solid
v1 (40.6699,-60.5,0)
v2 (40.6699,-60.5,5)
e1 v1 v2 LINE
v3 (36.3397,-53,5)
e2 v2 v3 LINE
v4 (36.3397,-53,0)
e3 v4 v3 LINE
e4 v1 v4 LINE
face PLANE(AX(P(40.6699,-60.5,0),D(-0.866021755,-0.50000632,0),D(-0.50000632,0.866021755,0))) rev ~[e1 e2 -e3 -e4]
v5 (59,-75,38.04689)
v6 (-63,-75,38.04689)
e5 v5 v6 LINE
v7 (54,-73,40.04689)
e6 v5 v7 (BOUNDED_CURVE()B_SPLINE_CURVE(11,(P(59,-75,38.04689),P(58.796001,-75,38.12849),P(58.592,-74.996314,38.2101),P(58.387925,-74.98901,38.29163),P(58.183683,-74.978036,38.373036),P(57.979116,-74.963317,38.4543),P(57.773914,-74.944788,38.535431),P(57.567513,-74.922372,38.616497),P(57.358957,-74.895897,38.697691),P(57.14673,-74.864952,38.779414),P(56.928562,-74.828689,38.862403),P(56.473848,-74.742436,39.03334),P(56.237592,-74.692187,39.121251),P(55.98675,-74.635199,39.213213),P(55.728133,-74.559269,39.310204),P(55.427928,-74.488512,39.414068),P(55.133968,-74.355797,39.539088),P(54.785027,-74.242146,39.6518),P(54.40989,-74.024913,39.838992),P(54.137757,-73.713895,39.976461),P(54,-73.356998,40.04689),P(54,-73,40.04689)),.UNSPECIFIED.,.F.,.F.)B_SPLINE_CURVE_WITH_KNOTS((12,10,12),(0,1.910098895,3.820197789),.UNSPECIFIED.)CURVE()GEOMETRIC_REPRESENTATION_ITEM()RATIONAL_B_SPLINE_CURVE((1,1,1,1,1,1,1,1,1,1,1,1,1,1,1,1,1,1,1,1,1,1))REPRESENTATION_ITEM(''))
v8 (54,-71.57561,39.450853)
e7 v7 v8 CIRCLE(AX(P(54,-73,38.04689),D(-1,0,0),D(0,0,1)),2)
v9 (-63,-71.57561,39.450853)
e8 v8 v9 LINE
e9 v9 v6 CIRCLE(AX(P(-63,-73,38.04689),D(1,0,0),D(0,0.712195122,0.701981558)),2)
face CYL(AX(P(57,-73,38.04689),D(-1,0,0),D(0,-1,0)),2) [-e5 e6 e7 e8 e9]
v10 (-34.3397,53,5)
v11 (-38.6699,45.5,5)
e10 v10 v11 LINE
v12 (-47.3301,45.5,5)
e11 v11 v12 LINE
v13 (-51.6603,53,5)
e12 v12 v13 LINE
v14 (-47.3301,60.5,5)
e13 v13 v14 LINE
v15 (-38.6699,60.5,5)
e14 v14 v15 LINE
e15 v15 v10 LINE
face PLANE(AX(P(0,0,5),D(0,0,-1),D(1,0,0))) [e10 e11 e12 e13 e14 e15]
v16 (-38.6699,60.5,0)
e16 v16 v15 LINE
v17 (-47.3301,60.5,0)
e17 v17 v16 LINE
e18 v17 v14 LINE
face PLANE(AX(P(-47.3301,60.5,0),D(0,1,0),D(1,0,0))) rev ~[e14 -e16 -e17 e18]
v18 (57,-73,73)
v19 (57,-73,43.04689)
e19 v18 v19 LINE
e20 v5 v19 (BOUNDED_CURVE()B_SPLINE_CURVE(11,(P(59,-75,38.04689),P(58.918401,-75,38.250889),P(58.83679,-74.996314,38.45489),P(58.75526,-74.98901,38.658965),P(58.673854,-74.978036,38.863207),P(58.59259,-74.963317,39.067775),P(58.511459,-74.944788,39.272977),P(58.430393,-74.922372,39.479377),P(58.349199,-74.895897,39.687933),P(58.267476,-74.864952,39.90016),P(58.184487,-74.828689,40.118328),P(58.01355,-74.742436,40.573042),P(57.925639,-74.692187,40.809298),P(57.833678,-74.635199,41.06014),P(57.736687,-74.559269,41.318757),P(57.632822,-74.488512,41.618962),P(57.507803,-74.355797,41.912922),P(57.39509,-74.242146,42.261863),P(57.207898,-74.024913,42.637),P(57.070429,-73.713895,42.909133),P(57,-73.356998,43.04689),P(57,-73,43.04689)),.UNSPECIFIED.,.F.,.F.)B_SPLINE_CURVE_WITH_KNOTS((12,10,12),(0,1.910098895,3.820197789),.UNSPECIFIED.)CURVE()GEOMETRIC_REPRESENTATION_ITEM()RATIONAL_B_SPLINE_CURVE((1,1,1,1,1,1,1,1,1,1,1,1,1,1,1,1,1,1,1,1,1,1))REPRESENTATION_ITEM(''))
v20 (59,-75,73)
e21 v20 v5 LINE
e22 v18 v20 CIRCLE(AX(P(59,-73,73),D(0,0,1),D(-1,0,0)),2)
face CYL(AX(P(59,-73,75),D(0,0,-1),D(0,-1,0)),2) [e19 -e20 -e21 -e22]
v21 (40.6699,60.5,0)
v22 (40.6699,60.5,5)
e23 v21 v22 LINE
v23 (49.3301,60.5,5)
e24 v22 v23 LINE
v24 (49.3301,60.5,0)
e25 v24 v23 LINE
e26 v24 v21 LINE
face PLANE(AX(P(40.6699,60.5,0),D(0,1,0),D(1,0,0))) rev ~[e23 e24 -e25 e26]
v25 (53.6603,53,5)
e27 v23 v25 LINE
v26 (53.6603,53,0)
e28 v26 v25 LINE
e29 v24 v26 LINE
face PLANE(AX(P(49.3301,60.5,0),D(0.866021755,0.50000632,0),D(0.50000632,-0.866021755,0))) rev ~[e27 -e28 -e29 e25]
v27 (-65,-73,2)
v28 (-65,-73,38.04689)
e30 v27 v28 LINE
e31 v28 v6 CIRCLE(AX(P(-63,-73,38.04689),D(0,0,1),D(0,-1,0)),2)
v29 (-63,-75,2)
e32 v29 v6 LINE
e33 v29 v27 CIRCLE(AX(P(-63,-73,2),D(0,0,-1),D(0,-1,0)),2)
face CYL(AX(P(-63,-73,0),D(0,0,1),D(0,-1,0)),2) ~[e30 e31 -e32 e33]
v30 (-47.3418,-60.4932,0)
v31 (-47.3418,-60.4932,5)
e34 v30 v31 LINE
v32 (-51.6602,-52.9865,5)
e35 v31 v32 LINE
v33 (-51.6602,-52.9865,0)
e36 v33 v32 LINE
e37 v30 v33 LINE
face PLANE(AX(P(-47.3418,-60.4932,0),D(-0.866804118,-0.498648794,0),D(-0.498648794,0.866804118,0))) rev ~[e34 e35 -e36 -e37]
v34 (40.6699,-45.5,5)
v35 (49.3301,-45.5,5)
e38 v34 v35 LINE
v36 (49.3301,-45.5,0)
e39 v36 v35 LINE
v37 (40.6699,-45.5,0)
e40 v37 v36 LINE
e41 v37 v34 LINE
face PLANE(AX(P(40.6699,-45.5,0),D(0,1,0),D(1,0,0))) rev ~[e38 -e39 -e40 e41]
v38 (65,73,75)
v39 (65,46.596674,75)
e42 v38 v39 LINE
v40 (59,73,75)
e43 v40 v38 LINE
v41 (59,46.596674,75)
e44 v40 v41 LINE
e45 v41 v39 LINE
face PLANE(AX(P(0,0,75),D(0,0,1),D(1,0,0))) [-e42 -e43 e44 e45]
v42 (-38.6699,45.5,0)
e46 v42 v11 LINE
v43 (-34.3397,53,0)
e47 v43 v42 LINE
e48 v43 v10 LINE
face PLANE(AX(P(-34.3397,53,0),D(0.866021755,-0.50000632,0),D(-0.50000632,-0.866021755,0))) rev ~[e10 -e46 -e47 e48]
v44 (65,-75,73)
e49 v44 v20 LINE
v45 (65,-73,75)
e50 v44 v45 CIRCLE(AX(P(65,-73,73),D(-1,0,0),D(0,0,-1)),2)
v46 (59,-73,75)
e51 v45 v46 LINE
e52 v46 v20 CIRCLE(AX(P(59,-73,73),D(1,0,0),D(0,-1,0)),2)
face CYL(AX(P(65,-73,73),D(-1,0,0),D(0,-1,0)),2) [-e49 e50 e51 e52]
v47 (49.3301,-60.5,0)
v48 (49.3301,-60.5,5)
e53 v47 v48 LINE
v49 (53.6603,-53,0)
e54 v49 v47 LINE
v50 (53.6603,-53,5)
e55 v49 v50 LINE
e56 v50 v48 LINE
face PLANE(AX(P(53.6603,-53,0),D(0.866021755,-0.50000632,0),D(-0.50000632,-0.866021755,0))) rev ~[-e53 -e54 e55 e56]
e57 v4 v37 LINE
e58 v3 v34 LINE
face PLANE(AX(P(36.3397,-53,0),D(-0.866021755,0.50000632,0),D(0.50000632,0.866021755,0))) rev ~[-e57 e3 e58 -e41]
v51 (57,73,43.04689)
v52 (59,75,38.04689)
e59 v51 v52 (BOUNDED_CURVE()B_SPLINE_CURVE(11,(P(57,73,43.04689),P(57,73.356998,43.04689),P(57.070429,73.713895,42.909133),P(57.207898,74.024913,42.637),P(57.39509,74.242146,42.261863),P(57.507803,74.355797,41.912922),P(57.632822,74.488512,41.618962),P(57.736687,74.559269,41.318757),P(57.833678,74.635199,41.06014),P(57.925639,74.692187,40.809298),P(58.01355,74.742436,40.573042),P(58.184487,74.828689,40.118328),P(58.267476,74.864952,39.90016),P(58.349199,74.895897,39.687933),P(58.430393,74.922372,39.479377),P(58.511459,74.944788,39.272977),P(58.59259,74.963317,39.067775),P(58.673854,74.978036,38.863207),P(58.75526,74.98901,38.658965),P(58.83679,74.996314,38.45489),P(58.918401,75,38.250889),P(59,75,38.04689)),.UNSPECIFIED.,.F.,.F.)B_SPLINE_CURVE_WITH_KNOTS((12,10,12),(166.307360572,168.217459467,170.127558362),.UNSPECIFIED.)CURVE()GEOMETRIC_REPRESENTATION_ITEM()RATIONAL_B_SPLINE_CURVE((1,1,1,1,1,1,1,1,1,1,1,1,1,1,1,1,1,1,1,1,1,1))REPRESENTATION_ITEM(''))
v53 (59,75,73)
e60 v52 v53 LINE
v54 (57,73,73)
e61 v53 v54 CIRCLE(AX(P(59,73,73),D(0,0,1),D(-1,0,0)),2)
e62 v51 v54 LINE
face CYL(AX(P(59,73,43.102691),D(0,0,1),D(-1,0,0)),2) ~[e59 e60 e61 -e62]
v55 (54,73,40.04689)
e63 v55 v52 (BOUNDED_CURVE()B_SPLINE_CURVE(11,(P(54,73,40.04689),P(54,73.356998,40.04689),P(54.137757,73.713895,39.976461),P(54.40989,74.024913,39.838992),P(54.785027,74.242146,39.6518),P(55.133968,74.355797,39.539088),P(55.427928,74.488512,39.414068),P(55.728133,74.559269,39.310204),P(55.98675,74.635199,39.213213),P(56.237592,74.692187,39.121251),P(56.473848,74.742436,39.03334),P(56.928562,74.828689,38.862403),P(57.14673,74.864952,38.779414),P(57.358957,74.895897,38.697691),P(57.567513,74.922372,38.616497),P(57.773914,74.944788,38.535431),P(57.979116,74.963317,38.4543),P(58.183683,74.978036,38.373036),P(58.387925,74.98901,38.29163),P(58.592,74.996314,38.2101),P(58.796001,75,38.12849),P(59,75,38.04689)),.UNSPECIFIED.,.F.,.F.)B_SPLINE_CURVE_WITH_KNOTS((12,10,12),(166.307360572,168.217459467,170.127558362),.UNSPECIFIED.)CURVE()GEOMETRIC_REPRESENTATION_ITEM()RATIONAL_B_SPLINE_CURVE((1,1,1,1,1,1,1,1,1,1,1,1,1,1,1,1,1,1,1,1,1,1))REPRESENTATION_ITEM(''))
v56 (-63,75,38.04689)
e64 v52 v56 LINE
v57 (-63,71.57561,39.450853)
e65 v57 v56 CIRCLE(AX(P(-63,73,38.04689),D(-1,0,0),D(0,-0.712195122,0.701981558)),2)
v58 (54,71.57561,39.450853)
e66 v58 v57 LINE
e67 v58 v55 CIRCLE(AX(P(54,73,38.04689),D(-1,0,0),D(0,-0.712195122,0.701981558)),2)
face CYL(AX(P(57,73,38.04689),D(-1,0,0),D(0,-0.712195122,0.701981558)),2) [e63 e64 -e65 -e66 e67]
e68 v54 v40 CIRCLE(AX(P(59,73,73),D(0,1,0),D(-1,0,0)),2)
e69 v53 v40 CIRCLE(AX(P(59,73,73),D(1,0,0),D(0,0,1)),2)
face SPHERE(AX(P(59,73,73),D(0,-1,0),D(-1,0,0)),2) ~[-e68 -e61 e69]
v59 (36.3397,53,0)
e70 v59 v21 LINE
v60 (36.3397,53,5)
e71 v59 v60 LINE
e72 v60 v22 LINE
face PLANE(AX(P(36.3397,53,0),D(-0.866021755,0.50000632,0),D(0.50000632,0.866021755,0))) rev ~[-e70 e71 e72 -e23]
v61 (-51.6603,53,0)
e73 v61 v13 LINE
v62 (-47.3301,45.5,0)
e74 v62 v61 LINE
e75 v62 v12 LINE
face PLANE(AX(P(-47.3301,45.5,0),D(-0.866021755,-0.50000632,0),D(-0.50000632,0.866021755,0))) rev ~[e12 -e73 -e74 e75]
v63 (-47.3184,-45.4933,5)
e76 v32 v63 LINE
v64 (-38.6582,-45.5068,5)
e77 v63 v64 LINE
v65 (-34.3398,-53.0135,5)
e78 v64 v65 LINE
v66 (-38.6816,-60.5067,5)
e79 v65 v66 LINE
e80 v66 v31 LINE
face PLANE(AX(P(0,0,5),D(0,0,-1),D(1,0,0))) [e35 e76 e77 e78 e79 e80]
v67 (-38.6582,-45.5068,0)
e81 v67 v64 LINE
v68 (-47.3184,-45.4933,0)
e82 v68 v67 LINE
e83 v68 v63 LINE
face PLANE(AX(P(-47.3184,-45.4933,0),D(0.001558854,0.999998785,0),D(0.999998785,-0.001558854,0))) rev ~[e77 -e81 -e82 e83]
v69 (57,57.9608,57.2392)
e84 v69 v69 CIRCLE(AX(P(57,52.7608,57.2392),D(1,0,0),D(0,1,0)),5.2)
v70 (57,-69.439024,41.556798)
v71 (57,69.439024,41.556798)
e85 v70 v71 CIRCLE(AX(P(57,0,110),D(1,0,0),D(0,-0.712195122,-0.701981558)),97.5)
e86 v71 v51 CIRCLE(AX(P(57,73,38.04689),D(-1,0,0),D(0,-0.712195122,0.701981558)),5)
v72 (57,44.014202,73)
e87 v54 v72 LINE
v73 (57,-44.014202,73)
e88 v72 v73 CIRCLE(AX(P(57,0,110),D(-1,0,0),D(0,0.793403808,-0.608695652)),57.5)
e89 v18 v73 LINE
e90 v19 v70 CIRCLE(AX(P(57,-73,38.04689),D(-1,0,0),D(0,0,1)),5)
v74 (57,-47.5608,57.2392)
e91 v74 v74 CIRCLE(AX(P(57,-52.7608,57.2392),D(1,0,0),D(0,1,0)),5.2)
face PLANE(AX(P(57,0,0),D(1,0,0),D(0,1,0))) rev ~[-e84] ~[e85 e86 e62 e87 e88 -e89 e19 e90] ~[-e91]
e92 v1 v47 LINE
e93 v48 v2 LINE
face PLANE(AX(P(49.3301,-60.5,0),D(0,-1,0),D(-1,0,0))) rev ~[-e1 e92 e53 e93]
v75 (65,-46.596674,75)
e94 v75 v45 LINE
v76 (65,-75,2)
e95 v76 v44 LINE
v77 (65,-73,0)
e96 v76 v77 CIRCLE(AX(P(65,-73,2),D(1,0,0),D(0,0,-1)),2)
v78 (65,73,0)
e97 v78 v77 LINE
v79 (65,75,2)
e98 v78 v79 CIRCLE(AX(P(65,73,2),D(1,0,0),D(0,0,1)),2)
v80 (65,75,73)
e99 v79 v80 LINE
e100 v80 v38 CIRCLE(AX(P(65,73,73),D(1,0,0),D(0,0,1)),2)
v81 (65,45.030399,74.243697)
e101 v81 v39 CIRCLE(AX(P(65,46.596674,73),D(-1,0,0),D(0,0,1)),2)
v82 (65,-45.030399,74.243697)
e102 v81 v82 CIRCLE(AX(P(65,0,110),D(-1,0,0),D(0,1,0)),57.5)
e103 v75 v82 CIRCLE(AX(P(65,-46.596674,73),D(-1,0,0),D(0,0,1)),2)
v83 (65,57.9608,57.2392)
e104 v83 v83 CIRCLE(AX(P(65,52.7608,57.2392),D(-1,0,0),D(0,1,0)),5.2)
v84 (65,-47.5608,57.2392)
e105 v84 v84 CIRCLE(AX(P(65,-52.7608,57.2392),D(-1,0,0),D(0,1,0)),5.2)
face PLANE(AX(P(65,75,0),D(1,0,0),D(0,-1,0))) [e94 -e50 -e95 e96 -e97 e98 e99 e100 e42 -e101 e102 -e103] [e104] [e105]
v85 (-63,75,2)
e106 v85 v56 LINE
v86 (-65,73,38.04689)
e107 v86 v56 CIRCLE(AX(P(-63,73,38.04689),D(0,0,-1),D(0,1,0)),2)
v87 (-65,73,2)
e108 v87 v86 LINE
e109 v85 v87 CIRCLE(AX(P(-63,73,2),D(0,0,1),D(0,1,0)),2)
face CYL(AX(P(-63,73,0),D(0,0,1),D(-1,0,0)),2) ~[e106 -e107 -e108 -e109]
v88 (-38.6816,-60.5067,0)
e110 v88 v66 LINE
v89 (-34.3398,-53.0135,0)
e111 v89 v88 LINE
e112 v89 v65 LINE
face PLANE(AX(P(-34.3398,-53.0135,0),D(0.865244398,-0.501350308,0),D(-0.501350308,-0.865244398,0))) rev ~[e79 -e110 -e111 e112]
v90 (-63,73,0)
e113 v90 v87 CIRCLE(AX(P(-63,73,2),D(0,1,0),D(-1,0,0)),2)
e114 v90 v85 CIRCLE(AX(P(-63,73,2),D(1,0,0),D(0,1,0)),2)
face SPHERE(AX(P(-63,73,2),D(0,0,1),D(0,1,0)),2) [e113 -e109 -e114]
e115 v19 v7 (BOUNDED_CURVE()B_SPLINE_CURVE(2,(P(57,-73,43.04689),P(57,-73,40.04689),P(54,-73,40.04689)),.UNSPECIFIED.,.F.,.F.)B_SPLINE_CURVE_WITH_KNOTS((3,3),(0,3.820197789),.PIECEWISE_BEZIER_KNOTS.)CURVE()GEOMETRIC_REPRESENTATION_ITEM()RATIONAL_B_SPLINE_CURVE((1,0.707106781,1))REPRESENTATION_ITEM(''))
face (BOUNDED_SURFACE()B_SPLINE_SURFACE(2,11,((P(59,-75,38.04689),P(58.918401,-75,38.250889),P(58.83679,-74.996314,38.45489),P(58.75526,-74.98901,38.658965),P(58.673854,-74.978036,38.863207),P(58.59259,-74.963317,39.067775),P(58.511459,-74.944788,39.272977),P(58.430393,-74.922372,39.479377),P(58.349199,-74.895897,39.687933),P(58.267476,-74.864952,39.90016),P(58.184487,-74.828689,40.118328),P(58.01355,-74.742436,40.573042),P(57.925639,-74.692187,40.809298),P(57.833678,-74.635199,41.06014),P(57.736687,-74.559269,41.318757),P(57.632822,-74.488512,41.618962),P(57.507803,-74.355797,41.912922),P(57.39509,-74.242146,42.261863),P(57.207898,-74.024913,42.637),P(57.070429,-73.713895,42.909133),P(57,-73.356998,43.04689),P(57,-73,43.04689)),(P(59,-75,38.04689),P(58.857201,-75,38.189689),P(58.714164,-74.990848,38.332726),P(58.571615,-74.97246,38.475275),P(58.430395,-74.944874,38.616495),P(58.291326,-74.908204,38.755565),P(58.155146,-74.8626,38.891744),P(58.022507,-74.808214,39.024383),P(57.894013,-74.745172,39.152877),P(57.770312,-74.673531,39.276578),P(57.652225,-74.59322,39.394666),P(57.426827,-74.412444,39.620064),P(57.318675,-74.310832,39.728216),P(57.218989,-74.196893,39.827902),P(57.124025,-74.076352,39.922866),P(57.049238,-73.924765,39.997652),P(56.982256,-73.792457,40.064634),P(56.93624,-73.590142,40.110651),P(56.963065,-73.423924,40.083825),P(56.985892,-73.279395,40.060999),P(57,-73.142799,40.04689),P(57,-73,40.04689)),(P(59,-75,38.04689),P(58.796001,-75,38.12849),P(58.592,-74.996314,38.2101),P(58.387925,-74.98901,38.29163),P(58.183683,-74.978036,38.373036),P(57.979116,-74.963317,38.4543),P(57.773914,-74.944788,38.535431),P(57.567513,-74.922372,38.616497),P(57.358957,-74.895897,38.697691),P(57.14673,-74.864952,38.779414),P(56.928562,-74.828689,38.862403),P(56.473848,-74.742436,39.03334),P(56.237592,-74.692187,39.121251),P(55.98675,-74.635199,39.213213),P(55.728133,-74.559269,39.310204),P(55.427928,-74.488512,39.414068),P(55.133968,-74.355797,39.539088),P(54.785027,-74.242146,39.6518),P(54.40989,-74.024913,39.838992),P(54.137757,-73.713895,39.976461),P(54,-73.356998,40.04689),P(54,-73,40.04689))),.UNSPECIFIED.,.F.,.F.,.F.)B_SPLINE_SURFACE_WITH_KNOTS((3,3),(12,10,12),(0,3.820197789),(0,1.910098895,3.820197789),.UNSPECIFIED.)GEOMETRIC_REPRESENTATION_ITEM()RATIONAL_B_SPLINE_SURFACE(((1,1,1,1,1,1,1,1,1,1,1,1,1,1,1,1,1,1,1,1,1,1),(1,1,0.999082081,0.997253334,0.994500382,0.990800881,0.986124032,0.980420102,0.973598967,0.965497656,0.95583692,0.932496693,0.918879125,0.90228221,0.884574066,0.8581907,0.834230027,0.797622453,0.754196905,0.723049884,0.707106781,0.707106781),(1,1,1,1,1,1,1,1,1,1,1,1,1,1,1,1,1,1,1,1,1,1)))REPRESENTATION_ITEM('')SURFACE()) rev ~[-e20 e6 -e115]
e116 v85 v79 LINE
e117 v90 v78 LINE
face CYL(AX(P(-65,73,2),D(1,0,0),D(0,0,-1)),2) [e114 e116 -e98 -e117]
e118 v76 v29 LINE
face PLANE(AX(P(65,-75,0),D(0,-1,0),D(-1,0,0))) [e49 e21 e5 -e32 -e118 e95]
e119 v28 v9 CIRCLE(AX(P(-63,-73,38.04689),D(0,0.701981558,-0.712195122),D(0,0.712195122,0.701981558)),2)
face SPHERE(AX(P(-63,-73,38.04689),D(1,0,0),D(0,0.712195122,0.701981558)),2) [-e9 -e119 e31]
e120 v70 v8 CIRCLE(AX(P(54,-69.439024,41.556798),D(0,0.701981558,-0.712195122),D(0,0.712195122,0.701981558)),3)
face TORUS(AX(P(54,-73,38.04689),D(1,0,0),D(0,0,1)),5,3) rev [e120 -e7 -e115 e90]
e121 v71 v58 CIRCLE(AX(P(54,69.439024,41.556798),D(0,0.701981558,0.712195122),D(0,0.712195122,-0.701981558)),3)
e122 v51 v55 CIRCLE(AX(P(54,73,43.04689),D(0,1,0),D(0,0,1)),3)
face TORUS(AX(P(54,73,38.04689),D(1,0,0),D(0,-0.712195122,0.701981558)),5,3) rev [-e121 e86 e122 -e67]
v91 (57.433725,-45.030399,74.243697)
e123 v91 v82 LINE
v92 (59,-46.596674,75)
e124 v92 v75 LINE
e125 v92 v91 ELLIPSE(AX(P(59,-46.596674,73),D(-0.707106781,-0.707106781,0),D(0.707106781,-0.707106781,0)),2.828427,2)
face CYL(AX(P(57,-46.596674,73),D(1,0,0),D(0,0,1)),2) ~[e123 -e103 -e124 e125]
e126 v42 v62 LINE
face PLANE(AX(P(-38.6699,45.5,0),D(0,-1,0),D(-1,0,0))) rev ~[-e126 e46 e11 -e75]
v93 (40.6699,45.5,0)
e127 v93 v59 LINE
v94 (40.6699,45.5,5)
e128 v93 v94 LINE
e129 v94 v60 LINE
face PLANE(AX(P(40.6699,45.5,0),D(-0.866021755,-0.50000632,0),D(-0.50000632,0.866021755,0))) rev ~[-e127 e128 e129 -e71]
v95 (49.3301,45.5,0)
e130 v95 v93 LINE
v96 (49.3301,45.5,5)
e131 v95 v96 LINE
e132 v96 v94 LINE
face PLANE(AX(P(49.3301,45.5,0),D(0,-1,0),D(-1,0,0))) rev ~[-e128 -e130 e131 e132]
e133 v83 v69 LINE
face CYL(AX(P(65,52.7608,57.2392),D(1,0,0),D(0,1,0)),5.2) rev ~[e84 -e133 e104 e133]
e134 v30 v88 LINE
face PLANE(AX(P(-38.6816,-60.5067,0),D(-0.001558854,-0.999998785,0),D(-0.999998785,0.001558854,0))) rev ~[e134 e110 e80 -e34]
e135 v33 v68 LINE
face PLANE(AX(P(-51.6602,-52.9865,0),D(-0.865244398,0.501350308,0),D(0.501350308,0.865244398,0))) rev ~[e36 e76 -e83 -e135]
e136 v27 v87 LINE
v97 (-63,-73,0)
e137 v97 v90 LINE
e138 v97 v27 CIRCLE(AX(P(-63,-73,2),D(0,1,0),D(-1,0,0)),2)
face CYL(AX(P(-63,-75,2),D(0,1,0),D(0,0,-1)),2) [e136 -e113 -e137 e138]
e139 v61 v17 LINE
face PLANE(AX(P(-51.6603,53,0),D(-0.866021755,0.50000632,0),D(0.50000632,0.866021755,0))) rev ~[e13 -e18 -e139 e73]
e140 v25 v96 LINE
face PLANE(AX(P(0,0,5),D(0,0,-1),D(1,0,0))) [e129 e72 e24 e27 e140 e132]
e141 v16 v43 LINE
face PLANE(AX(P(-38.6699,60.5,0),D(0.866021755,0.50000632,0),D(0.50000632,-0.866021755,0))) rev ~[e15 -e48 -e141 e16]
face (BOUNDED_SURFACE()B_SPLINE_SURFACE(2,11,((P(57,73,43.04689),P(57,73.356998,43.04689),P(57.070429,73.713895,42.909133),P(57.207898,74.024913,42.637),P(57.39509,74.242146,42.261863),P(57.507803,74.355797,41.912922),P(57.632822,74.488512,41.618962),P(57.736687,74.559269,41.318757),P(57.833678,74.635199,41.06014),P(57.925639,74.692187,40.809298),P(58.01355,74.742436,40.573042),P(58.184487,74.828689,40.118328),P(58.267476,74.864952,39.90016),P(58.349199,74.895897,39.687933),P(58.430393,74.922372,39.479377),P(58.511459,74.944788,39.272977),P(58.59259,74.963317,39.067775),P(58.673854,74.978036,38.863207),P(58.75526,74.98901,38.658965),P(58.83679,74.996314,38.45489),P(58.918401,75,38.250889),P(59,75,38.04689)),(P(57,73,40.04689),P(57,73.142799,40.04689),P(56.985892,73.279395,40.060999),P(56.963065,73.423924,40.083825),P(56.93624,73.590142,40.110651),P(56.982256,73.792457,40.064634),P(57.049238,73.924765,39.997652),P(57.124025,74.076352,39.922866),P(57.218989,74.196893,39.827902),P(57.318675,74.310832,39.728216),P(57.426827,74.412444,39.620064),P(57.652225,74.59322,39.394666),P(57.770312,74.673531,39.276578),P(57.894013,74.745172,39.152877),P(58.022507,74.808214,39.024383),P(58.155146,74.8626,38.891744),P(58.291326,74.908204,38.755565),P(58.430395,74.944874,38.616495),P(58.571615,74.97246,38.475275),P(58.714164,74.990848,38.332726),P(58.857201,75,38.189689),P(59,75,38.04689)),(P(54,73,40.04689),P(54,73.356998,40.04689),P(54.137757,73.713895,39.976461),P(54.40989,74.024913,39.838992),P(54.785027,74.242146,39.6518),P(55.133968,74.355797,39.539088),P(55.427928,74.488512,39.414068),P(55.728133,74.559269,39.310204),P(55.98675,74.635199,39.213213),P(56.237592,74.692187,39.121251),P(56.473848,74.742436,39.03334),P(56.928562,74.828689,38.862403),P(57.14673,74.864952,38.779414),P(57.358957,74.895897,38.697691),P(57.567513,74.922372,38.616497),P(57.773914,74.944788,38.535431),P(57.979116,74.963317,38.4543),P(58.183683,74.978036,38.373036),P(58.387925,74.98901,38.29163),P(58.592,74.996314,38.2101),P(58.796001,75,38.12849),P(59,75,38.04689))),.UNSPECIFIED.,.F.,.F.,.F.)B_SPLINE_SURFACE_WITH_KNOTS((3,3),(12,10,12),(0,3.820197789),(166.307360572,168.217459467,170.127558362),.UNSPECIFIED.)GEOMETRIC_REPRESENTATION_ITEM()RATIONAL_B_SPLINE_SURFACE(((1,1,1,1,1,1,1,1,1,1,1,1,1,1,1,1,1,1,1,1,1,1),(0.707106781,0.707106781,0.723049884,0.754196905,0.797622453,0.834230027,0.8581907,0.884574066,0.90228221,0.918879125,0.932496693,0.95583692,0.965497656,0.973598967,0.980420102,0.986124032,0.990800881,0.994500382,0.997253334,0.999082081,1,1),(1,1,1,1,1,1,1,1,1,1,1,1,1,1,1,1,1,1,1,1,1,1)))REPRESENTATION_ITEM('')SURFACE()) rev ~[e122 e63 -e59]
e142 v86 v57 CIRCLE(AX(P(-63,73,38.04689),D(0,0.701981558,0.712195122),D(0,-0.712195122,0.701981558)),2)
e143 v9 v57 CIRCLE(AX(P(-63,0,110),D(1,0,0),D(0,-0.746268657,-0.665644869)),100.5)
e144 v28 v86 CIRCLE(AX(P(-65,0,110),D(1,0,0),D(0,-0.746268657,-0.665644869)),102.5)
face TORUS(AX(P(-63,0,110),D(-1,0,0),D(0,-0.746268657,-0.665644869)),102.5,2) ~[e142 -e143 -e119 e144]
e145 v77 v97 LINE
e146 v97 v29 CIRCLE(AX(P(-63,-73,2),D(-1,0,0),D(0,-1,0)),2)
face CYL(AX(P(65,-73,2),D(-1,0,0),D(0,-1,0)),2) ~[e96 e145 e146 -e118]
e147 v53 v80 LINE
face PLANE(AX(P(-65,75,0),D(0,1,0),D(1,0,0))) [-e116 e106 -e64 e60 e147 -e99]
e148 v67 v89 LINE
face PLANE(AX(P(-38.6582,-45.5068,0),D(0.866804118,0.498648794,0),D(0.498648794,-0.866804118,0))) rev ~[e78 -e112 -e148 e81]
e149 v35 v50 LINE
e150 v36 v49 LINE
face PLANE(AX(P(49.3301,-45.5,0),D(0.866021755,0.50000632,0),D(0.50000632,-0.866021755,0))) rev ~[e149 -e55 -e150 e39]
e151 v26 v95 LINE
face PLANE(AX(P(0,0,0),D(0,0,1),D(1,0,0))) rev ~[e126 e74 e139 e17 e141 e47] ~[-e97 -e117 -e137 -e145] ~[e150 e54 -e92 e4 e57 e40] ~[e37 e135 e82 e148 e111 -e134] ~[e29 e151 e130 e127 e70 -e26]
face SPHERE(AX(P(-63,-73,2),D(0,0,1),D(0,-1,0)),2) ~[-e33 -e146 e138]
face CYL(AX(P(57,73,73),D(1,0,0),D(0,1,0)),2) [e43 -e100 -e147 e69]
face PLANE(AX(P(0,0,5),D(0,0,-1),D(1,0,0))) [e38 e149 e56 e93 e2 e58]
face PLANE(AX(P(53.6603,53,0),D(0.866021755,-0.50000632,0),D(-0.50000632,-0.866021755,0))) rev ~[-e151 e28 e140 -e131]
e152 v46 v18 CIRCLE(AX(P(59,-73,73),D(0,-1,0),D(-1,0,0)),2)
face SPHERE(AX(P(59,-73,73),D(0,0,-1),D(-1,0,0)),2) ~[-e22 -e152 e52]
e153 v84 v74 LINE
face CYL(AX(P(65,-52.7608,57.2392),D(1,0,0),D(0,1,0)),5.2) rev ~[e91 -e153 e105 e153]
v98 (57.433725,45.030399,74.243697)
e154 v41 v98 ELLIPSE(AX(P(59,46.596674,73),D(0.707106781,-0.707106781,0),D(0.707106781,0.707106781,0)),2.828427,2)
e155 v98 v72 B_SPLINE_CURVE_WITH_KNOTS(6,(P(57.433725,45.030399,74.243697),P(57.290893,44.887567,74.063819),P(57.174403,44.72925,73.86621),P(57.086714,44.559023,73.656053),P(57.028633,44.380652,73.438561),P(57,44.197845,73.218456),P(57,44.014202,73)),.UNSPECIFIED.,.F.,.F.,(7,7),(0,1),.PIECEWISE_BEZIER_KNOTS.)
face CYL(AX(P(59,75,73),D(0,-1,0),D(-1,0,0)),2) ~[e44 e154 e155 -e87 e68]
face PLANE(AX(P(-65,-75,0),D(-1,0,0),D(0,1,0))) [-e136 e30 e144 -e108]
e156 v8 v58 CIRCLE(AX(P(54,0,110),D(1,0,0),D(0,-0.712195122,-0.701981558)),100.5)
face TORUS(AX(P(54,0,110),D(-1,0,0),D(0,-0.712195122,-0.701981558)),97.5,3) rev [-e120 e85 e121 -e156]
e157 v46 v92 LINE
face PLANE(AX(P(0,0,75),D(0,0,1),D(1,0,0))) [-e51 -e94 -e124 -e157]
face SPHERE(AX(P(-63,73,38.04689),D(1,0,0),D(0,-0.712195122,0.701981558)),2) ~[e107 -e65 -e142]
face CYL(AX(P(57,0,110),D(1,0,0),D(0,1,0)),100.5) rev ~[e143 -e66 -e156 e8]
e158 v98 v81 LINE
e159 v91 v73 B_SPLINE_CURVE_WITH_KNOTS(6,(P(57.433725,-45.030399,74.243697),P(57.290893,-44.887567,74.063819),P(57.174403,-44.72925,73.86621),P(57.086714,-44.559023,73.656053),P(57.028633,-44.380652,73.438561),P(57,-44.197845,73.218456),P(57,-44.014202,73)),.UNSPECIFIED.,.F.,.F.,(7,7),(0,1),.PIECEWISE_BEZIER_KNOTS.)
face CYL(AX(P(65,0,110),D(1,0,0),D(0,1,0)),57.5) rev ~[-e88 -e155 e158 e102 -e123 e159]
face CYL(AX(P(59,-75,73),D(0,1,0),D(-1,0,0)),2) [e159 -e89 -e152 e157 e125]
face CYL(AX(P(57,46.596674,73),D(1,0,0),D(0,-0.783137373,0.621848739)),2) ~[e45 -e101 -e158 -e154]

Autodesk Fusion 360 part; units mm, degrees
sketch "Sketch1" plane through (0, 0, 0) normal (0, 0, 1) x (1, 0, 0)
  line L0 (65, -75) -> (-65, -75)
  line L1 (-65, -75) -> (-65, 75)
  line L2 (-65, 75) -> (65, 75)
  line L3 (65, 75) -> (65, -75)
  line L4 (65, -75) -> (-65, 75) construction
  line L5 (-65, -75) -> (65, 75) construction
  dimension "d1" = 130
  dimension "d2" = 150
extrude "Extrude1" add sketch "Sketch1" along normal blind 75
sketch "Sketch2" plane through (65, 0, 0) normal (1, 0, 0) x (0, 1, 0)
  line L0 (-75, 0) -> (75, 0)
  line L1 (75, 0) -> (75, 75)
  line L2 (75, 75) -> (-75, 75)
  line L3 (-75, 75) -> (-75, 0)
  line L4 (0, 0) -> (0, 10)
  line L5 (0, 10) -> (0, 110)
  circle A0 centre (0, 110) radius 100.5
  circle A1 centre (0, 110) radius 74.615
  line L6 (0, 110) -> (52.7608, 57.2392)
  line L7 (0, 110) -> (74.615, 110) construction
  line L8 (0, 110) -> (-52.7608, 57.2392)
  line L9 (0, 110) -> (74.615, 110) construction
  circle A2 centre (52.7608, 57.2392) radius 5.2
  circle A3 centre (-52.7608, 57.2392) radius 5.2
  circle A4 centre (0, 110) radius 57.5
  dimension "d5" = 10
  dimension "d6" = 100
  dimension "d7" = 201
  dimension "d8" = 149.23
  dimension "d9" = 45
  dimension "d10" = 135
  dimension "d11" = 10.4
  dimension "d12" = 10.4
  dimension "d13" = 115
extrude "Extrude2" cut sketch "Sketch2" against normal blind 130 contours L2 L6 L8 A4 | L2 L8 A4 | L2 L5 L8 A4 | L2 L5 L6 A4 | L2 L5 L8 | L2 L6 A4 | L2 L5 L6
extrude "Extrude3" cut sketch "Sketch2" against normal blind 122 from surface at -8 contours L2 L3 L4 L5 A0 A1 A3 | L1 L2 L4 L5 A0 A1 A2 | L2 A1 L8 A3 A4 | L5 A1 L8 A3 A4 | L5 A1 L6 A2 A4 | A1 L8 A3 | A1 A3 | L2 A1 L6 A2 A4 | A1 L8 A3 | A1 L6 A2 | A1 A2 | A1 L6 A2
extrude "Extrude4" cut sketch "Sketch2" against normal blind 10 contours A1 L8 A3 | A1 A3 | A1 L8 A3 | A1 L6 A2 | A1 A2 | A1 L6 A2
fillet "Fillet1" radius 2 16 edges at (-65, 75, 21.5513) (-65, -75, 21.5513) (0, -75, 0) (0, 75, 0) (-4, -75, 43.1027) (-4, 75, 43.1027) (57, 60.3104, 75) (57, 75, 59.0513) (57, -75, 59.0513) (57, -60.3104, 75) (-65, 0, 9.5) (-65, 0, 0) (61, -75, 75) (61, 75, 75) (61, 45.6207, 75) (61, -45.6207, 75)
fillet "Fillet2" radius 3 5 edges at (57.5858, -74.4142, 39.4611) (57, -72.228, 39.8919) (57, 0, 9.5) (57, 72.228, 39.8919) (57.5858, 74.4142, 39.4611)
sketch "Sketch3" plane through (0, 0, 0) normal (0, 0, -1) x (1, 0, 0)
  line L0 (-63, -73) -> (65, -73)
  line L1 (65, -73) -> (65, 73)
  line L2 (65, 73) -> (-63, 73)
  line L3 (-63, 73) -> (-63, -73)
  line L4 (-63, 73) -> (-43, 73)
  line L5 (-43, 73) -> (-43, 53)
  line L6 (-38.6582, 45.5068) -> (-34.3398, 53.0135)
  line L7 (-34.3398, 53.0135) -> (-38.6816, 60.5067)
  line L8 (-38.6816, 60.5067) -> (-47.3418, 60.4932)
  line L9 (-47.3418, 60.4932) -> (-51.6602, 52.9865)
  line L10 (-51.6602, 52.9865) -> (-47.3184, 45.4933)
  line L11 (-47.3184, 45.4933) -> (-38.6582, 45.5068)
  line L12 (65, 73) -> (45, 73)
  line L13 (45, 73) -> (45, 53)
  line L14 (49.3301, 45.5) -> (53.6603, 53)
  line L15 (53.6603, 53) -> (49.3301, 60.5)
  line L16 (49.3301, 60.5) -> (40.6699, 60.5)
  line L17 (40.6699, 60.5) -> (36.3397, 53)
  line L18 (36.3397, 53) -> (40.6699, 45.5)
  line L19 (40.6699, 45.5) -> (49.3301, 45.5)
  line L20 (-63, -73) -> (-63, -53)
  line L21 (-63, -53) -> (-43, -53)
  line L22 (-38.6699, -60.5) -> (-34.3397, -53)
  line L23 (-34.3397, -53) -> (-38.6699, -45.5)
  line L24 (-38.6699, -45.5) -> (-47.3301, -45.5)
  line L25 (-47.3301, -45.5) -> (-51.6603, -53)
  line L26 (-51.6603, -53) -> (-47.3301, -60.5)
  line L27 (-47.3301, -60.5) -> (-38.6699, -60.5)
  line L28 (65, -73) -> (45, -73)
  line L29 (45, -73) -> (45, -53)
  line L30 (49.3301, -60.5) -> (53.6603, -53)
  line L31 (53.6603, -53) -> (49.3301, -45.5)
  line L32 (49.3301, -45.5) -> (40.6699, -45.5)
  line L33 (40.6699, -45.5) -> (36.3397, -53)
  line L34 (36.3397, -53) -> (40.6699, -60.5)
  line L35 (40.6699, -60.5) -> (49.3301, -60.5)
  point P0 (-43, 53)
  point P1 (45, 53)
  point P2 (-43, -53)
  point P3 (45, -53)
  dimension "d45" = 20
  dimension "d46" = 20
  dimension "d47" = 7.5
  dimension "d48" = 20
  dimension "d49" = 20
  dimension "d50" = 7.5
  dimension "d51" = 20
  dimension "d52" = 20
  dimension "d53" = 7.5
  dimension "d54" = 20
  dimension "d55" = 20
  dimension "d56" = 7.5
extrude "Extrude5" cut sketch "Sketch3" against normal blind 5 contours L30 L31 L32 L33 L34 L35 | L14 L15 L16 L17 L18 L19 | L6 L7 L8 L9 L10 L11 | L22 L23 L24 L25 L26 L27
